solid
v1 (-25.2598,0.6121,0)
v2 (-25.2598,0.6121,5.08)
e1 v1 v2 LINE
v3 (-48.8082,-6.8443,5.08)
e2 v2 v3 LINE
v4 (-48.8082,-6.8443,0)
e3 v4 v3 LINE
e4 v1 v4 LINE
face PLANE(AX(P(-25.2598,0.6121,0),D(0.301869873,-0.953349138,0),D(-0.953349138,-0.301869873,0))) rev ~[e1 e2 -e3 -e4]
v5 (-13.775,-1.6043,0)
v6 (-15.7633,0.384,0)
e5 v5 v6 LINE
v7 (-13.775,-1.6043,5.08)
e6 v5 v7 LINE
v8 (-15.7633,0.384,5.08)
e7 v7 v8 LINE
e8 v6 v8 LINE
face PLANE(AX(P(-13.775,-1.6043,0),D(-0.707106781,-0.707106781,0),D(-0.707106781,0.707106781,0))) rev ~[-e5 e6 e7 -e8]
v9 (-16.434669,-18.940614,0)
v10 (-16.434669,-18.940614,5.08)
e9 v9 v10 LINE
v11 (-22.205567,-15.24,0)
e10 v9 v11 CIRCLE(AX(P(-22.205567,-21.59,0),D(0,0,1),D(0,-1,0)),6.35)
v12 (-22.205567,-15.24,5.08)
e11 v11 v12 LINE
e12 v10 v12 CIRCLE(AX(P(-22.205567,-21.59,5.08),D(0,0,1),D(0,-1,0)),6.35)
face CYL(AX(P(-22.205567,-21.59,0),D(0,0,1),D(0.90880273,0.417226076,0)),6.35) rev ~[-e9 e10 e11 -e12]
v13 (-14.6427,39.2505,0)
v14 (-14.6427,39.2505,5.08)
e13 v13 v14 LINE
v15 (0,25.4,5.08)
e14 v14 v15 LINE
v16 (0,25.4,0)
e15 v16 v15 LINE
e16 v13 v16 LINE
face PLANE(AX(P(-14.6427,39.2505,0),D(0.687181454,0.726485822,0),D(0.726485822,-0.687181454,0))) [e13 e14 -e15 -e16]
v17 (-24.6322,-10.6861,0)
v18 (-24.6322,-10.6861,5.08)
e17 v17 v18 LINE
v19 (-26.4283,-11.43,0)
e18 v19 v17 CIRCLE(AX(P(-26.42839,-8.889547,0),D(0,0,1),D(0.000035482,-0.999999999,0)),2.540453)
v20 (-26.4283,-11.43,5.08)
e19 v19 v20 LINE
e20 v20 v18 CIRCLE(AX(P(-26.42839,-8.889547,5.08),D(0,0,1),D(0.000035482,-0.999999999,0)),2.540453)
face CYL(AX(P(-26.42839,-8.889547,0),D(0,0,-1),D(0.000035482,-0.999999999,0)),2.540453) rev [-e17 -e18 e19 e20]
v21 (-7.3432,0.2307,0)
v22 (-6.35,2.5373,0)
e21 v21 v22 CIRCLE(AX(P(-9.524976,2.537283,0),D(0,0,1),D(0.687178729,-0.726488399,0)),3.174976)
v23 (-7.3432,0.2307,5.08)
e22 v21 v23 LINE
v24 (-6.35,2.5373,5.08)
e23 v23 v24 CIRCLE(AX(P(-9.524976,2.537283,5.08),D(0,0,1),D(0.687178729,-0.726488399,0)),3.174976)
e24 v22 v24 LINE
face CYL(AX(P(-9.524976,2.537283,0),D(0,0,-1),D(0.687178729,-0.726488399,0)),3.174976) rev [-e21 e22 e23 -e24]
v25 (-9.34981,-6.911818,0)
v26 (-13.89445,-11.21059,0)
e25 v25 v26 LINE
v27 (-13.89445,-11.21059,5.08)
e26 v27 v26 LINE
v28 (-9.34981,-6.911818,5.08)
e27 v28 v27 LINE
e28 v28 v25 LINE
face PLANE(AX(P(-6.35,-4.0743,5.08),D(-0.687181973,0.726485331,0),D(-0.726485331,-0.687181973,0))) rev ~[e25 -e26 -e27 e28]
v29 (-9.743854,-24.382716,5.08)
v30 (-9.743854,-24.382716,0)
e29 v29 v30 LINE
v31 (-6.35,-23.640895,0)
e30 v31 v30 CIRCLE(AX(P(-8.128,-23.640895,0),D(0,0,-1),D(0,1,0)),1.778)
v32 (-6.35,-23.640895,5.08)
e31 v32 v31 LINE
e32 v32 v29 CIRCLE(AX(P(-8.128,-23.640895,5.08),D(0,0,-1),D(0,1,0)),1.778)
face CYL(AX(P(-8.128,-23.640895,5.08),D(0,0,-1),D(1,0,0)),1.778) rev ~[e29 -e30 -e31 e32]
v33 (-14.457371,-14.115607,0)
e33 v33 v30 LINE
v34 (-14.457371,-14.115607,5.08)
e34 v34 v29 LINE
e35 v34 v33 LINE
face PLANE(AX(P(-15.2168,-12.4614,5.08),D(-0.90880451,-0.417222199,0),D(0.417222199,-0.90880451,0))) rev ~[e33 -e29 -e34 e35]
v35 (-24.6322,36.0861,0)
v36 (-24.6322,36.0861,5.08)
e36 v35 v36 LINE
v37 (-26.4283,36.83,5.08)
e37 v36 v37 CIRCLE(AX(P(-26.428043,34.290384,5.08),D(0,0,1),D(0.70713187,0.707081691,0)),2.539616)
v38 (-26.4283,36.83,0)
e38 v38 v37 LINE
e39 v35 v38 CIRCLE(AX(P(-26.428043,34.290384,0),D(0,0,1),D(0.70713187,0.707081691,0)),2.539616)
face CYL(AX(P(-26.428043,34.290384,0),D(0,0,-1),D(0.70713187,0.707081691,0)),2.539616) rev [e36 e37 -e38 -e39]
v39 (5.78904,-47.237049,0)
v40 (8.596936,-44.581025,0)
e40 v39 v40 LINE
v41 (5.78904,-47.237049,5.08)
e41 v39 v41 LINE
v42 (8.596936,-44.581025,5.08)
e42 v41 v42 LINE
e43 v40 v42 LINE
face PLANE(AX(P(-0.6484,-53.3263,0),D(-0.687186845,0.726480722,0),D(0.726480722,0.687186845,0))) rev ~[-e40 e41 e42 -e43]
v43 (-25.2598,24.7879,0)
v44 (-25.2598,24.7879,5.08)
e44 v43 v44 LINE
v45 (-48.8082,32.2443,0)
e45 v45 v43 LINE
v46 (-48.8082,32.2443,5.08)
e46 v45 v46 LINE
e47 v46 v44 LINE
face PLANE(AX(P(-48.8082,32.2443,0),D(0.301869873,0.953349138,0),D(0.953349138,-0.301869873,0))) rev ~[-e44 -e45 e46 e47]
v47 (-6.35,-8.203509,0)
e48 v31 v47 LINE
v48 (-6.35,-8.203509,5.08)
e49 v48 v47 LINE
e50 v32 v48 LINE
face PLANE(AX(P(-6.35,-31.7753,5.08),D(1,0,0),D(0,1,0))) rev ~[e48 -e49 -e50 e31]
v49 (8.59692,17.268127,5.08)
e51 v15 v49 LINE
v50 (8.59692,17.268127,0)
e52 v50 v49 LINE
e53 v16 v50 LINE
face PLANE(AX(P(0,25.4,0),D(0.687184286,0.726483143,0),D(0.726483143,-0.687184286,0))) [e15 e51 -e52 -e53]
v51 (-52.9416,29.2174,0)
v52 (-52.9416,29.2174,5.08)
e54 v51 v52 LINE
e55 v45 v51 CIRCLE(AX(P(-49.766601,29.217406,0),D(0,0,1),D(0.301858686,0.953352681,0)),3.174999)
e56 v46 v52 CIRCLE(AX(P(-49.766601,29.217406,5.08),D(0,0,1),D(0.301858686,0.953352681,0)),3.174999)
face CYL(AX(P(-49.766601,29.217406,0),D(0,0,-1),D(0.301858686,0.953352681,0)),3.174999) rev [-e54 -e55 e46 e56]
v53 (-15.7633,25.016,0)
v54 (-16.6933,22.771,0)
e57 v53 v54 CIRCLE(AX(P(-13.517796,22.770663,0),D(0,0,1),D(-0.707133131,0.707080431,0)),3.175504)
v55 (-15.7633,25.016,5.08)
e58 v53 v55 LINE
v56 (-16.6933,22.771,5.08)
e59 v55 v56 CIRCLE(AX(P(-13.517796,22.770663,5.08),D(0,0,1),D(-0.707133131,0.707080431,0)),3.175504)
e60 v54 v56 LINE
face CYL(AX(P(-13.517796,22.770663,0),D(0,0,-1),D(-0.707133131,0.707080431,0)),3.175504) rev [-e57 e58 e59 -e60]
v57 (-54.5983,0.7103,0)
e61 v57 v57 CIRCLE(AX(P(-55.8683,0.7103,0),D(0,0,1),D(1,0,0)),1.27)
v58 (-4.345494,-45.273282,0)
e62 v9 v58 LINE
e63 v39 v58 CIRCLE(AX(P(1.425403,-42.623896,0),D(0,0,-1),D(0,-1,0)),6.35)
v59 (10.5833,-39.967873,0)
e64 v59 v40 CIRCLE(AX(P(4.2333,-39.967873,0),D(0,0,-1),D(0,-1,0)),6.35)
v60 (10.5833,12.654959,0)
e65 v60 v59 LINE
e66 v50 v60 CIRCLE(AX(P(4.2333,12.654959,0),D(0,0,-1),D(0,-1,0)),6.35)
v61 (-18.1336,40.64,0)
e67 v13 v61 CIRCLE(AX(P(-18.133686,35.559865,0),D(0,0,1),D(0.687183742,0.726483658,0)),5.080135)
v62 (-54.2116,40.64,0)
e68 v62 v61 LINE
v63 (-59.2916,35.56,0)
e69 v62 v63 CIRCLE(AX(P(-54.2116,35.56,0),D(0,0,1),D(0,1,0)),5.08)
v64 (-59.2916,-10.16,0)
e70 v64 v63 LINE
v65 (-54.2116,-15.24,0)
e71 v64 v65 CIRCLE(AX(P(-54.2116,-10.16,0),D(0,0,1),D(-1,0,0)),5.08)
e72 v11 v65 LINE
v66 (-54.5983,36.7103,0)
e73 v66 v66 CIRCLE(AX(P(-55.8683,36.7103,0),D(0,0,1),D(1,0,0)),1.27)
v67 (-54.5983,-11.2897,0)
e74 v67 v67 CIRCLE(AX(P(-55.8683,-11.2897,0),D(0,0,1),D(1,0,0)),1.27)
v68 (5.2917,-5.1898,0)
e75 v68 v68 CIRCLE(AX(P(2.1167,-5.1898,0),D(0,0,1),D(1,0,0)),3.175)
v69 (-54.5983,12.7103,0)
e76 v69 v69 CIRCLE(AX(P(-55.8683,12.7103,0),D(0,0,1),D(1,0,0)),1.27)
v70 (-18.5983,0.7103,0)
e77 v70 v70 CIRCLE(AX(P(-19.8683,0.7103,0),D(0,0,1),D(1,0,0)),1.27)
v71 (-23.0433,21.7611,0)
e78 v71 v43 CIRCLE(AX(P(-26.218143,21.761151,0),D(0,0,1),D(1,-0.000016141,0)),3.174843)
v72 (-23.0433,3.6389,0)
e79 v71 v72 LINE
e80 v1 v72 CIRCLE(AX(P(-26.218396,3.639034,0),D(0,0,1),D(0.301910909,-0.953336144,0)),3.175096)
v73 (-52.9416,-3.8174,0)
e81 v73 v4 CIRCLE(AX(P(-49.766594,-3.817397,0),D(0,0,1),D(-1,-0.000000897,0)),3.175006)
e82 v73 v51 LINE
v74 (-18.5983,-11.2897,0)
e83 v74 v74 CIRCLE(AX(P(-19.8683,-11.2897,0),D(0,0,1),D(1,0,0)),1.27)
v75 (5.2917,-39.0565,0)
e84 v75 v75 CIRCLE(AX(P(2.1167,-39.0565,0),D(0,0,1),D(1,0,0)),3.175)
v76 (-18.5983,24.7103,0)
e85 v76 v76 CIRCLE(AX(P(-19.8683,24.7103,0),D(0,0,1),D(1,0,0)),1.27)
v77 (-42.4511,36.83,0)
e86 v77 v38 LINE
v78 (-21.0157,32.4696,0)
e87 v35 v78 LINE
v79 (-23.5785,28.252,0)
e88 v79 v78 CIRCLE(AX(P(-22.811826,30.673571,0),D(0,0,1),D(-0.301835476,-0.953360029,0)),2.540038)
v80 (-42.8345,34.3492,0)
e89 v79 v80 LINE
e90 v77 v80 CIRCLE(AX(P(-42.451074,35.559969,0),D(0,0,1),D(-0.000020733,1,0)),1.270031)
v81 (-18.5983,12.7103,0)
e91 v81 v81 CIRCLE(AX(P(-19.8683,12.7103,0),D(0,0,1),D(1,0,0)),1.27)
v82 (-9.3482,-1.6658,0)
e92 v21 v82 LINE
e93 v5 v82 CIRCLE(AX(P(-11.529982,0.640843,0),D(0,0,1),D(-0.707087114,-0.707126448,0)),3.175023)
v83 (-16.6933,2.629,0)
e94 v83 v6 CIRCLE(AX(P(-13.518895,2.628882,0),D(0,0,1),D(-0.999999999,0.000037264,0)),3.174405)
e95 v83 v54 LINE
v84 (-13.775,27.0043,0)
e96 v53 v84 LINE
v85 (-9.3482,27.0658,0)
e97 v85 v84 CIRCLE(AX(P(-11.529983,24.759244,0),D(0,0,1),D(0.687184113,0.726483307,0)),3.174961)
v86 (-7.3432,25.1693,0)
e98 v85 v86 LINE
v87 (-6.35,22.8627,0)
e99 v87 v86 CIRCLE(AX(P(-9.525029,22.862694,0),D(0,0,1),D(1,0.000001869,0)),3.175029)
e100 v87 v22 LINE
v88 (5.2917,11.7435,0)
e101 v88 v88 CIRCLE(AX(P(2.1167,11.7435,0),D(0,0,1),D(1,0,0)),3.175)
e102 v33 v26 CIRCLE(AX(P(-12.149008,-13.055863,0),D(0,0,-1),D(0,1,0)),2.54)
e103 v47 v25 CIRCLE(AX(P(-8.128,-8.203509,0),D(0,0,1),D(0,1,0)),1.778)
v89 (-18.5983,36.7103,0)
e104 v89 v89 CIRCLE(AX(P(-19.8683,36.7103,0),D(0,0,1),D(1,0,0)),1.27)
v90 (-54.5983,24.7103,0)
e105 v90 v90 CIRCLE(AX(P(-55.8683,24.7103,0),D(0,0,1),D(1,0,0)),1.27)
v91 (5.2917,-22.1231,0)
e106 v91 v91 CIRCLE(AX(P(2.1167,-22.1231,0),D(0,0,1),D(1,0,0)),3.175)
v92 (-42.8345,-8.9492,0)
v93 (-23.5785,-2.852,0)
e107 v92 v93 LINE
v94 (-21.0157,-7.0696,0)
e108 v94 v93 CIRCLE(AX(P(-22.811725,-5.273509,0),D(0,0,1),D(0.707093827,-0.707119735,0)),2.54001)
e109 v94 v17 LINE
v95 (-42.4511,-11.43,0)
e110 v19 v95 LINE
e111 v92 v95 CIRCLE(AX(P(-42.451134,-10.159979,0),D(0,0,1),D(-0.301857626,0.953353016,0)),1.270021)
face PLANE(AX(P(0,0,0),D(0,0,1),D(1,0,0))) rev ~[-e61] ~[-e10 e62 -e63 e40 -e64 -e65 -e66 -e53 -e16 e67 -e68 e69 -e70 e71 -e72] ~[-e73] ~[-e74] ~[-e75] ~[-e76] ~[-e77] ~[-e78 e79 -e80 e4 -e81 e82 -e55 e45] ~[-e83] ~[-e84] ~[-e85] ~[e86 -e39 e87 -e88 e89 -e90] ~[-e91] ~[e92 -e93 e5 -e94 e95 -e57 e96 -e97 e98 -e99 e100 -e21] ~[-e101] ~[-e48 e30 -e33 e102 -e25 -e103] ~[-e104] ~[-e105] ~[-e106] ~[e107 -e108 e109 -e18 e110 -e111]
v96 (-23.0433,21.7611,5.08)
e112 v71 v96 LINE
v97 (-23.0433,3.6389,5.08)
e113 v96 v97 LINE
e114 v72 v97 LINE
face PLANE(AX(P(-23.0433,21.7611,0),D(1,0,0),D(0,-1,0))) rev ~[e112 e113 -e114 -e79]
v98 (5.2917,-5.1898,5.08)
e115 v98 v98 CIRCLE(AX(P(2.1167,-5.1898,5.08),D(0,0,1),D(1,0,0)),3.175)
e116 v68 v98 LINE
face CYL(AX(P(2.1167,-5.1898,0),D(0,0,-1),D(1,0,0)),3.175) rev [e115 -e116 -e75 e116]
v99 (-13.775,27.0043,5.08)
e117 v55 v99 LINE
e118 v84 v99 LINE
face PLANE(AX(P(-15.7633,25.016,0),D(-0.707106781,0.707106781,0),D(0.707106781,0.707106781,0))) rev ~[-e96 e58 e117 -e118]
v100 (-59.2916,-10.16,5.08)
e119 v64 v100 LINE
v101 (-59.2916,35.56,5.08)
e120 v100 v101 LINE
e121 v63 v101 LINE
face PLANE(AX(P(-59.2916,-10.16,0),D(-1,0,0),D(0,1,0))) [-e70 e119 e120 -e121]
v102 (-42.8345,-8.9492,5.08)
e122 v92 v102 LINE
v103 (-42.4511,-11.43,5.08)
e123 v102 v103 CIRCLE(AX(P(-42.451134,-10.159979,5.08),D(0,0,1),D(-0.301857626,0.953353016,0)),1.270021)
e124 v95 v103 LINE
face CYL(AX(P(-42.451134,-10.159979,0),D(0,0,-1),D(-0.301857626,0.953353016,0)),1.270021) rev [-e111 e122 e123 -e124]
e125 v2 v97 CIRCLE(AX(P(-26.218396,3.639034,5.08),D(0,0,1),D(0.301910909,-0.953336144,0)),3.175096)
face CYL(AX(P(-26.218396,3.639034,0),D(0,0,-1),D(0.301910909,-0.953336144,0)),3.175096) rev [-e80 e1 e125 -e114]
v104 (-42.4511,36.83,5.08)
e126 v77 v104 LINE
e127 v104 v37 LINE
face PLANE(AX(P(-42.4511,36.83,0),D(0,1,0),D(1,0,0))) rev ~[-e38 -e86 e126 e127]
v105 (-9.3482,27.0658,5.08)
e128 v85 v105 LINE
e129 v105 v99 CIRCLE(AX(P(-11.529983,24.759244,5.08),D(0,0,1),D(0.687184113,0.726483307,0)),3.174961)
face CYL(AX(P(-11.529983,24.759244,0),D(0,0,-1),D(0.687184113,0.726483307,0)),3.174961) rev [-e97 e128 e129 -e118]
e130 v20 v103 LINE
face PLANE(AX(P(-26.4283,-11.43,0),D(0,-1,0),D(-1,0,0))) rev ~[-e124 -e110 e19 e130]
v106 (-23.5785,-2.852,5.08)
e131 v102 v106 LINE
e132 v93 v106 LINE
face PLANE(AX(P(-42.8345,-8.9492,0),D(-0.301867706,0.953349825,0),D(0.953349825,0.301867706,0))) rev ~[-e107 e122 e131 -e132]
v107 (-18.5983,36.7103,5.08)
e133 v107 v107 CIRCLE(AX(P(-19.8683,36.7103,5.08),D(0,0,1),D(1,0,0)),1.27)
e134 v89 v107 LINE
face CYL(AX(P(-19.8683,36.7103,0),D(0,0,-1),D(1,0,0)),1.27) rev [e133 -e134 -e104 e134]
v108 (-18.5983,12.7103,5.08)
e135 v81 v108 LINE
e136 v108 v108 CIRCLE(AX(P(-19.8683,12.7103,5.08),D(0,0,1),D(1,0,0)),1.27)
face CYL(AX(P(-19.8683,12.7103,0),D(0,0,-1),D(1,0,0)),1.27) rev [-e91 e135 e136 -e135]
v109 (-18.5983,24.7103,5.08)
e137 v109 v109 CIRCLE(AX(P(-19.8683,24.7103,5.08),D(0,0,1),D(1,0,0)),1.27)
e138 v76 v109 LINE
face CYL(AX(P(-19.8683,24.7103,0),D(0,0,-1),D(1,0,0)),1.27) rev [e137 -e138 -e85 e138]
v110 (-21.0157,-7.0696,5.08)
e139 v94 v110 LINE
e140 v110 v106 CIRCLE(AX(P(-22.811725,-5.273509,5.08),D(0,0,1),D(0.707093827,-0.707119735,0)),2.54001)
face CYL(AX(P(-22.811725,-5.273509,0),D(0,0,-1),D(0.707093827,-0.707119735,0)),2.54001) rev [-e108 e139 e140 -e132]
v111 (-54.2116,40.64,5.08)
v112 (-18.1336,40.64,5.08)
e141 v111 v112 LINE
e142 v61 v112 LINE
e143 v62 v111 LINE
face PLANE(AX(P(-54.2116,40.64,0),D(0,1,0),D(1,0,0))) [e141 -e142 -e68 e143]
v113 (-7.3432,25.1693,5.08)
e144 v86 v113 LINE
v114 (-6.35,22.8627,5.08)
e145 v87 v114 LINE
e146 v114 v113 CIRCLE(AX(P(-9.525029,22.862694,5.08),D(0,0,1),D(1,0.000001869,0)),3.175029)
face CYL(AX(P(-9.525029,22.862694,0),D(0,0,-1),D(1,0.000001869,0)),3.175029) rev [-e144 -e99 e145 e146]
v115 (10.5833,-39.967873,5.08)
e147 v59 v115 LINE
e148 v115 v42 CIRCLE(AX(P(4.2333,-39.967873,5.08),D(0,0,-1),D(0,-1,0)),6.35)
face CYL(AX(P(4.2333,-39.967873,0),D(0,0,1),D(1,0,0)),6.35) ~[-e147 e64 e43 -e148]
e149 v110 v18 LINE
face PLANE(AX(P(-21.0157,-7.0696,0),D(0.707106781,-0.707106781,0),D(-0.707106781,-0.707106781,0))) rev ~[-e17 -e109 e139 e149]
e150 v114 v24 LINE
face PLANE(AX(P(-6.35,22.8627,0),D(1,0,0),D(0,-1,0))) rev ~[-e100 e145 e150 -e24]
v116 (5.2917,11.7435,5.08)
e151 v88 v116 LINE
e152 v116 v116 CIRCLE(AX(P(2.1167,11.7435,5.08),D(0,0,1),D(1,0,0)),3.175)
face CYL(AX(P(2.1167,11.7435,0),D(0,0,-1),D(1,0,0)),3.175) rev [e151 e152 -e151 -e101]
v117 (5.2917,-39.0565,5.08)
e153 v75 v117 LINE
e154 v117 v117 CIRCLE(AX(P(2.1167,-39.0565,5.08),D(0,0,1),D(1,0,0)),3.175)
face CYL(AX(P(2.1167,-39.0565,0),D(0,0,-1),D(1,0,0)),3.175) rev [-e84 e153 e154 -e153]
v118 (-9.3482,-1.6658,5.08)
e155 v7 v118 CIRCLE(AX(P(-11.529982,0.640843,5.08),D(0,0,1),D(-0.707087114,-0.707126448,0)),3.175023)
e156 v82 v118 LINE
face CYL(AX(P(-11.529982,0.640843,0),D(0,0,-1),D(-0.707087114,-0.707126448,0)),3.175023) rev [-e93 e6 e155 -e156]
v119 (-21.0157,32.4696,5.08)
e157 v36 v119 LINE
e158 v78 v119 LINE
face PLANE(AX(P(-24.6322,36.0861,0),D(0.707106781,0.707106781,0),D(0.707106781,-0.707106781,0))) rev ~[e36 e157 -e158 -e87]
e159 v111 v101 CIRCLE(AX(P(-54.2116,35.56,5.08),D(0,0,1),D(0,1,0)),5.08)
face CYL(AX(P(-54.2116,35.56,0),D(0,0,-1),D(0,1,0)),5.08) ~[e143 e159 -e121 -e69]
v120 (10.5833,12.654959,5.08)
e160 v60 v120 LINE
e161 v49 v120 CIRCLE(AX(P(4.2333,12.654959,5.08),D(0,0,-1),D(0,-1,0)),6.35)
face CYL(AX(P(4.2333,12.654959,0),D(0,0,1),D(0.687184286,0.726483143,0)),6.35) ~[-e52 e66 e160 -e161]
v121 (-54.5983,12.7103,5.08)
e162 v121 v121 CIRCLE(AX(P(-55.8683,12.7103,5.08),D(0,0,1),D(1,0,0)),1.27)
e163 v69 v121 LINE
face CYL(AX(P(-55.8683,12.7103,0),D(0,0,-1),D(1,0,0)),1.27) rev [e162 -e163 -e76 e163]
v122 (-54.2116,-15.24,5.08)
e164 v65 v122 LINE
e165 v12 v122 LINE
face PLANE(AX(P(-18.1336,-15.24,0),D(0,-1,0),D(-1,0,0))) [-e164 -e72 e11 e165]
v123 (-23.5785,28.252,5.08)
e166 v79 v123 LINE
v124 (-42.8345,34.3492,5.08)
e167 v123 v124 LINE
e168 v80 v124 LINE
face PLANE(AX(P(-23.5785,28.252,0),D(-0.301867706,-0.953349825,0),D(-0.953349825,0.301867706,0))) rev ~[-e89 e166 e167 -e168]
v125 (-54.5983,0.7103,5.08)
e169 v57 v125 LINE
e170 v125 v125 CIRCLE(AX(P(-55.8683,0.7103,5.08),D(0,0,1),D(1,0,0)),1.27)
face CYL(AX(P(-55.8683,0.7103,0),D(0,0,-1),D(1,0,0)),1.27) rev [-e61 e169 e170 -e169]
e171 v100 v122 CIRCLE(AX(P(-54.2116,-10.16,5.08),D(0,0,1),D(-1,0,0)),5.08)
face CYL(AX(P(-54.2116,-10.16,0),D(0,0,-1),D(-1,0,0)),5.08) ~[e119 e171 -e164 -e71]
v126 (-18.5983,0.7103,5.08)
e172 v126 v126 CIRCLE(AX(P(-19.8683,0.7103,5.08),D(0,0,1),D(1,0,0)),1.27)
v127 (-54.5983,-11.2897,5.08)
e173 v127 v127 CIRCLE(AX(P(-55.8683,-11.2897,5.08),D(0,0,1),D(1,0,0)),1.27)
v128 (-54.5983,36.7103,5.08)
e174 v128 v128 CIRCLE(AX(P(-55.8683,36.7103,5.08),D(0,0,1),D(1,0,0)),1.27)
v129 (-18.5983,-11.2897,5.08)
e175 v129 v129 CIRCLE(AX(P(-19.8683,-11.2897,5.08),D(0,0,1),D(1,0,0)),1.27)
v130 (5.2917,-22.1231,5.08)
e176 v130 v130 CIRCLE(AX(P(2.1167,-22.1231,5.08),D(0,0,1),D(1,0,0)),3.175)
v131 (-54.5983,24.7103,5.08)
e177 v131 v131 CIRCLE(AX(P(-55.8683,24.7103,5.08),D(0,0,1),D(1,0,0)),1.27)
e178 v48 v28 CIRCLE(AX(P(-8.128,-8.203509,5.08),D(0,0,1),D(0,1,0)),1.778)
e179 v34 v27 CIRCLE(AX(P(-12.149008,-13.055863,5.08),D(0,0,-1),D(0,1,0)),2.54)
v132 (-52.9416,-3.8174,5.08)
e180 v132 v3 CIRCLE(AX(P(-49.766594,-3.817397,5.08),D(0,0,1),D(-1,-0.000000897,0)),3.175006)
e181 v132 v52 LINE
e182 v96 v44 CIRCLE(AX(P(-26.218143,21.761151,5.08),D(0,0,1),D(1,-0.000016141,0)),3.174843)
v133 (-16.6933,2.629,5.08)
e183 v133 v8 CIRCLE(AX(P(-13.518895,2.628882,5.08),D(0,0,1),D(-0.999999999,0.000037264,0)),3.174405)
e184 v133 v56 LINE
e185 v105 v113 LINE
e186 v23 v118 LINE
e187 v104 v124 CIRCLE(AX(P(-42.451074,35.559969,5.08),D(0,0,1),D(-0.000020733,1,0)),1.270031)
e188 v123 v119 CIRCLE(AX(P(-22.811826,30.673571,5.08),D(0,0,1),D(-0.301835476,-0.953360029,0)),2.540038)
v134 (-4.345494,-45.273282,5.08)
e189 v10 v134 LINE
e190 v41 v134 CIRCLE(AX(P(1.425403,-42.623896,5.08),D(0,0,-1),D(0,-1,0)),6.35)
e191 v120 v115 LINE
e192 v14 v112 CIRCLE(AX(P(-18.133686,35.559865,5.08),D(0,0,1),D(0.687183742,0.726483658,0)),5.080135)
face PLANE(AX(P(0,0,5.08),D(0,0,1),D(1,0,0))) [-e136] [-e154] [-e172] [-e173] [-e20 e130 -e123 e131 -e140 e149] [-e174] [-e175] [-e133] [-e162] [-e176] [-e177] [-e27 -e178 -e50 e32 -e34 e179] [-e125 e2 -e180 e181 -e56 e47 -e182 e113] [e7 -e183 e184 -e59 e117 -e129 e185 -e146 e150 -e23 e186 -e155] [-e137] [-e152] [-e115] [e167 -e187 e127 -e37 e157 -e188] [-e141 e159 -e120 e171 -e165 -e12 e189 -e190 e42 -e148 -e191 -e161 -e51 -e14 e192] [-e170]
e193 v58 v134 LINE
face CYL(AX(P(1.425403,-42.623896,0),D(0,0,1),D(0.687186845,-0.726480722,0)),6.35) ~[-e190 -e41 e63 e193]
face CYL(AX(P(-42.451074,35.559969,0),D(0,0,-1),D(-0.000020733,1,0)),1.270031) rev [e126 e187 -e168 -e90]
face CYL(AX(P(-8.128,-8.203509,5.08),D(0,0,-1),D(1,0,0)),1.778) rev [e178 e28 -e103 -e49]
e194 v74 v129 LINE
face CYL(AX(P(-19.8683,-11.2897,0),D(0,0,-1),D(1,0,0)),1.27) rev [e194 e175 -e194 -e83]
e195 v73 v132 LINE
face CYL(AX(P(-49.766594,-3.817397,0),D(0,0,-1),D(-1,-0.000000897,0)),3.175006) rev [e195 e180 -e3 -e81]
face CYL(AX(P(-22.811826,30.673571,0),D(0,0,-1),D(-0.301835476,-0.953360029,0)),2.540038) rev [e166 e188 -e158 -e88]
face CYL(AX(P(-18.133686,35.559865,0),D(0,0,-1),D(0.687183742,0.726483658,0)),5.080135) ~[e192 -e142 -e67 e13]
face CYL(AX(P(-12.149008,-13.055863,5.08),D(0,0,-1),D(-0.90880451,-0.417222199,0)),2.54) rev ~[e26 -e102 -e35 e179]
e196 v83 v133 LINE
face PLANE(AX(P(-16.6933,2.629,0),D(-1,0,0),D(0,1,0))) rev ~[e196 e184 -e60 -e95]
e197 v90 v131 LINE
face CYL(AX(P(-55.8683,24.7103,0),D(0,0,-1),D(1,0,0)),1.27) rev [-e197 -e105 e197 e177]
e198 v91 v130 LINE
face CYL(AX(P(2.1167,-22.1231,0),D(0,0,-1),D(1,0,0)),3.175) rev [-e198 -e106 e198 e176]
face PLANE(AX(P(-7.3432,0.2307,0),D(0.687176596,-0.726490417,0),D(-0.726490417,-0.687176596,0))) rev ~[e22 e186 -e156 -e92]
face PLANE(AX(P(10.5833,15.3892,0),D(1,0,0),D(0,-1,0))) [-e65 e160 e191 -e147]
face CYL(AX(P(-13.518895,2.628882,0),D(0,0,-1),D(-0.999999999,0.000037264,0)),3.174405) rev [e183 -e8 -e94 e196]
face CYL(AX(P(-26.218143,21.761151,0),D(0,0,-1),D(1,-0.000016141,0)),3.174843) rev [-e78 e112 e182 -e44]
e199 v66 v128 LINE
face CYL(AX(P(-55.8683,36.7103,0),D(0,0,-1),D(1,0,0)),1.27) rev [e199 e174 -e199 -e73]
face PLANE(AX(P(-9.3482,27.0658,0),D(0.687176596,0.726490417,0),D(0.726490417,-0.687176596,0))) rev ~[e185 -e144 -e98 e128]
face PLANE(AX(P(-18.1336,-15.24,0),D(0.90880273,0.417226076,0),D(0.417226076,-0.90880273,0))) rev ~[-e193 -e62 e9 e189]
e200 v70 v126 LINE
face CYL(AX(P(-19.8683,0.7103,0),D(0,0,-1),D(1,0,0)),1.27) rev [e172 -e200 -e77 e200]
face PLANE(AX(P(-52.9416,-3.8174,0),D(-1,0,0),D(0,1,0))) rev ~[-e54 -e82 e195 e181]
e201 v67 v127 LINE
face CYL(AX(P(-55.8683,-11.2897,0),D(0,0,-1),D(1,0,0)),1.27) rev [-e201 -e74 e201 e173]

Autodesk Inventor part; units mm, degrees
ref_plane "YZ Plane" through (0, 0, 0) normal (1, 0, 0) x (0, 1, 0)
ref_plane "XZ Plane" through (0, 0, 0) normal (0, 1, 0) x (-1, 0, 0)
ref_plane "XY Plane" through (0, 0, 0) normal (0, 0, 1) x (1, 0, 0)
sketch "Sketch1" plane through (0, 0, 0) normal (0, 0, 1) x (1, 0, 0)
  line L0 (-42.4511, 36.83) -> (-26.4283, 36.83)
  arc A0 (-24.6322, 36.0861) -> (-26.4283, 36.83) centre (-26.4283, 34.29) ccw
  line L1 (-24.6322, 36.0861) -> (-21.0157, 32.4696)
  arc A1 (-23.5785, 28.252) -> (-21.0157, 32.4696) centre (-22.8118, 30.6735) ccw
  line L2 (-23.5785, 28.252) -> (-42.8345, 34.3492)
  arc A2 (-42.4511, 36.83) -> (-42.8345, 34.3492) centre (-42.4511, 35.56) ccw
  line L3 (-42.8345, -8.9492) -> (-23.5785, -2.852)
  arc A3 (-21.0157, -7.0696) -> (-23.5785, -2.852) centre (-22.8118, -5.2735) ccw
  line L4 (-21.0157, -7.0696) -> (-24.6322, -10.6861)
  arc A4 (-26.4283, -11.43) -> (-24.6322, -10.6861) centre (-26.4283, -8.89) ccw
  line L5 (-26.4283, -11.43) -> (-42.4511, -11.43)
  arc A5 (-42.8345, -8.9492) -> (-42.4511, -11.43) centre (-42.4511, -10.16) ccw
  line L6 (-52.9416, -3.8174) -> (-52.9416, 29.2174)
  arc A6 (-48.8082, 32.2443) -> (-52.9416, 29.2174) centre (-49.7666, 29.2174) ccw
  line L7 (-48.8082, 32.2443) -> (-25.2598, 24.7879)
  arc A7 (-23.0433, 21.7611) -> (-25.2598, 24.7879) centre (-26.2183, 21.7611) ccw
  line L8 (-23.0433, 21.7611) -> (-23.0433, 3.6389)
  arc A8 (-25.2598, 0.6121) -> (-23.0433, 3.6389) centre (-26.2183, 3.6389) ccw
  line L9 (-25.2598, 0.6121) -> (-48.8082, -6.8443)
  arc A9 (-52.9416, -3.8174) -> (-48.8082, -6.8443) centre (-49.7666, -3.8174) ccw
  line L10 (-6.35, 22.8627) -> (-6.35, 2.5373)
  arc A10 (-7.3432, 0.2307) -> (-6.35, 2.5373) centre (-9.525, 2.5373) ccw
  line L11 (-7.3432, 0.2307) -> (-9.3482, -1.6658)
  arc A11 (-13.775, -1.6043) -> (-9.3482, -1.6658) centre (-11.53, 0.6408) ccw
  line L12 (-13.775, -1.6043) -> (-15.7633, 0.384)
  arc A12 (-16.6933, 2.629) -> (-15.7633, 0.384) centre (-13.5183, 2.629) ccw
  line L13 (-16.6933, 2.629) -> (-16.6933, 22.771)
  arc A13 (-15.7633, 25.016) -> (-16.6933, 22.771) centre (-13.5183, 22.771) ccw
  line L14 (-15.7633, 25.016) -> (-13.775, 27.0043)
  arc A14 (-9.3482, 27.0658) -> (-13.775, 27.0043) centre (-11.53, 24.7592) ccw
  line L15 (-9.3482, 27.0658) -> (-7.3432, 25.1693)
  arc A15 (-6.35, 22.8627) -> (-7.3432, 25.1693) centre (-9.525, 22.8627) ccw
  circle A16 centre (-55.8683, 24.7103) radius 1.27
  circle A17 centre (-55.8683, 0.7103) radius 1.27
  circle A18 centre (-19.8683, -11.2897) radius 1.27
  circle A19 centre (-19.8683, 12.7103) radius 1.27
  circle A20 centre (-19.8683, 36.7103) radius 1.27
  circle A21 centre (-19.8683, 24.7103) radius 1.27
  circle A22 centre (-19.8683, 0.7103) radius 1.27
  circle A23 centre (-55.8683, -11.2897) radius 1.27
  circle A24 centre (-55.8683, 12.7103) radius 1.27
  circle A25 centre (-55.8683, 36.7103) radius 1.27
  arc A26 (-54.2116, 40.64) -> (-59.2916, 35.56) centre (-54.2116, 35.56) ccw
  line L16 (-59.2916, -10.16) -> (-59.2916, 35.56)
  arc A27 (-59.2916, -10.16) -> (-54.2116, -15.24) centre (-54.2116, -10.16) ccw
  line L17 (-18.1336, -15.24) -> (-54.2116, -15.24)
  line L18 (0, 0) -> (0, 25.4) construction
  line L19 (-14.6427, 39.2505) -> (0, 25.4)
  arc A28 (-14.6427, 39.2505) -> (-18.1336, 40.64) centre (-18.1336, 35.56) ccw
  line L20 (-54.2116, 40.64) -> (-18.1336, 40.64)
  line L21 (0, 25.4) -> (10.5833, 15.3892)
  line L22 (10.5833, 15.3892) -> (10.5833, -42.7021)
  circle A29 centre (2.1167, 11.7435) radius 3.175
  line L23 (2.1167, 11.7435) -> (2.1167, -39.0565) construction
  circle A30 centre (2.1167, -39.0565) radius 3.175
  line L24 (-0.6484, -53.3263) -> (10.5833, -42.7021)
  line L25 (-18.1336, -15.24) -> (-0.6484, -53.3263)
  circle A31 centre (2.1167, -5.1898) radius 3.175
  circle A32 centre (2.1167, -22.1231) radius 3.175
  dimension "d0" = 8.4667
  dimension "d1" = 8.4667
  dimension "d2" = 8.4667
  dimension "d6" = 8.4667
  dimension "d7" = 6.35
  dimension "d10" = 50.8
  dimension "d11" = 8.4667
  dimension "d12" = 16.9333
  dimension "d13" = 16.9333
  dimension "d22" = 16.9333
extrude "Plate2" add sketch "Sketch1" along normal blind 5.08
fillet "Fillet1" radius 6.35 4 edges at (-18.1336, -15.24, 2.54) (-0.6484, -53.3263, 2.54) (10.5833, -42.7021, 2.54) (10.5833, 15.3892, 2.54)
sketch "Sketch2" plane through (0, 0, 5.08) normal (0, 0, 1) x (1, 0, 0)
  line L0 (-6.35, -4.0743) -> (-15.2168, -12.4614)
  line L1 (-15.2168, -12.4614) -> (-6.35, -31.7753)
  line L2 (-6.35, -31.7753) -> (-6.35, -4.0743)
  line L3 (-6.35, 22.8627) -> (-6.35, 2.5373) projected
  line L4 (-22.2055, -15.24) -> (-54.2116, -15.24) projected
  line L5 (-26.4283, -11.43) -> (-42.4511, -11.43) projected
  line L6 (-4.3455, -45.2733) -> (-16.4346, -18.9406) projected
  line L7 (-7.3432, 0.2307) -> (-9.3482, -1.6658) projected
  point P0 (0, 0)
  dimension "d15" = 3.81
  dimension "d16" = 3.81
  dimension "d17" = 3.81
extrude "Extrusion1" cut sketch "Sketch2" against normal blind 25.4
fillet "Fillet2" radius 1.778 2 edges at (-6.35, -31.7753, 2.54) (-6.35, -4.0743, 2.54)
fillet "Fillet3" radius 2.54 1 edges at (-15.2168, -12.4614, 2.54)
equation "\"d13\" = d12"
equation "\"d22\" = d12"
equation "\"d14\" = Thickness"
equation "\"BendRadius\" = Thickness"
equation "\"BendReliefWidth\" = Thickness"
equation "\"BendReliefDepth\" = 0.5 * Thickness"
equation "\"CornerReliefSize\" = 4 * Thickness"
equation "\"MinimumRemnant\" = 2 * Thickness"
equation "\"TransitionRadius\" = BendRadius"
equation "\"JacobiRadiusSize\" = BendRadius"
equation "\"GapSize\" = Thickness"
equation "\"Thickness\" = 5.08"
properties part number "UpperShoulderBracket"
